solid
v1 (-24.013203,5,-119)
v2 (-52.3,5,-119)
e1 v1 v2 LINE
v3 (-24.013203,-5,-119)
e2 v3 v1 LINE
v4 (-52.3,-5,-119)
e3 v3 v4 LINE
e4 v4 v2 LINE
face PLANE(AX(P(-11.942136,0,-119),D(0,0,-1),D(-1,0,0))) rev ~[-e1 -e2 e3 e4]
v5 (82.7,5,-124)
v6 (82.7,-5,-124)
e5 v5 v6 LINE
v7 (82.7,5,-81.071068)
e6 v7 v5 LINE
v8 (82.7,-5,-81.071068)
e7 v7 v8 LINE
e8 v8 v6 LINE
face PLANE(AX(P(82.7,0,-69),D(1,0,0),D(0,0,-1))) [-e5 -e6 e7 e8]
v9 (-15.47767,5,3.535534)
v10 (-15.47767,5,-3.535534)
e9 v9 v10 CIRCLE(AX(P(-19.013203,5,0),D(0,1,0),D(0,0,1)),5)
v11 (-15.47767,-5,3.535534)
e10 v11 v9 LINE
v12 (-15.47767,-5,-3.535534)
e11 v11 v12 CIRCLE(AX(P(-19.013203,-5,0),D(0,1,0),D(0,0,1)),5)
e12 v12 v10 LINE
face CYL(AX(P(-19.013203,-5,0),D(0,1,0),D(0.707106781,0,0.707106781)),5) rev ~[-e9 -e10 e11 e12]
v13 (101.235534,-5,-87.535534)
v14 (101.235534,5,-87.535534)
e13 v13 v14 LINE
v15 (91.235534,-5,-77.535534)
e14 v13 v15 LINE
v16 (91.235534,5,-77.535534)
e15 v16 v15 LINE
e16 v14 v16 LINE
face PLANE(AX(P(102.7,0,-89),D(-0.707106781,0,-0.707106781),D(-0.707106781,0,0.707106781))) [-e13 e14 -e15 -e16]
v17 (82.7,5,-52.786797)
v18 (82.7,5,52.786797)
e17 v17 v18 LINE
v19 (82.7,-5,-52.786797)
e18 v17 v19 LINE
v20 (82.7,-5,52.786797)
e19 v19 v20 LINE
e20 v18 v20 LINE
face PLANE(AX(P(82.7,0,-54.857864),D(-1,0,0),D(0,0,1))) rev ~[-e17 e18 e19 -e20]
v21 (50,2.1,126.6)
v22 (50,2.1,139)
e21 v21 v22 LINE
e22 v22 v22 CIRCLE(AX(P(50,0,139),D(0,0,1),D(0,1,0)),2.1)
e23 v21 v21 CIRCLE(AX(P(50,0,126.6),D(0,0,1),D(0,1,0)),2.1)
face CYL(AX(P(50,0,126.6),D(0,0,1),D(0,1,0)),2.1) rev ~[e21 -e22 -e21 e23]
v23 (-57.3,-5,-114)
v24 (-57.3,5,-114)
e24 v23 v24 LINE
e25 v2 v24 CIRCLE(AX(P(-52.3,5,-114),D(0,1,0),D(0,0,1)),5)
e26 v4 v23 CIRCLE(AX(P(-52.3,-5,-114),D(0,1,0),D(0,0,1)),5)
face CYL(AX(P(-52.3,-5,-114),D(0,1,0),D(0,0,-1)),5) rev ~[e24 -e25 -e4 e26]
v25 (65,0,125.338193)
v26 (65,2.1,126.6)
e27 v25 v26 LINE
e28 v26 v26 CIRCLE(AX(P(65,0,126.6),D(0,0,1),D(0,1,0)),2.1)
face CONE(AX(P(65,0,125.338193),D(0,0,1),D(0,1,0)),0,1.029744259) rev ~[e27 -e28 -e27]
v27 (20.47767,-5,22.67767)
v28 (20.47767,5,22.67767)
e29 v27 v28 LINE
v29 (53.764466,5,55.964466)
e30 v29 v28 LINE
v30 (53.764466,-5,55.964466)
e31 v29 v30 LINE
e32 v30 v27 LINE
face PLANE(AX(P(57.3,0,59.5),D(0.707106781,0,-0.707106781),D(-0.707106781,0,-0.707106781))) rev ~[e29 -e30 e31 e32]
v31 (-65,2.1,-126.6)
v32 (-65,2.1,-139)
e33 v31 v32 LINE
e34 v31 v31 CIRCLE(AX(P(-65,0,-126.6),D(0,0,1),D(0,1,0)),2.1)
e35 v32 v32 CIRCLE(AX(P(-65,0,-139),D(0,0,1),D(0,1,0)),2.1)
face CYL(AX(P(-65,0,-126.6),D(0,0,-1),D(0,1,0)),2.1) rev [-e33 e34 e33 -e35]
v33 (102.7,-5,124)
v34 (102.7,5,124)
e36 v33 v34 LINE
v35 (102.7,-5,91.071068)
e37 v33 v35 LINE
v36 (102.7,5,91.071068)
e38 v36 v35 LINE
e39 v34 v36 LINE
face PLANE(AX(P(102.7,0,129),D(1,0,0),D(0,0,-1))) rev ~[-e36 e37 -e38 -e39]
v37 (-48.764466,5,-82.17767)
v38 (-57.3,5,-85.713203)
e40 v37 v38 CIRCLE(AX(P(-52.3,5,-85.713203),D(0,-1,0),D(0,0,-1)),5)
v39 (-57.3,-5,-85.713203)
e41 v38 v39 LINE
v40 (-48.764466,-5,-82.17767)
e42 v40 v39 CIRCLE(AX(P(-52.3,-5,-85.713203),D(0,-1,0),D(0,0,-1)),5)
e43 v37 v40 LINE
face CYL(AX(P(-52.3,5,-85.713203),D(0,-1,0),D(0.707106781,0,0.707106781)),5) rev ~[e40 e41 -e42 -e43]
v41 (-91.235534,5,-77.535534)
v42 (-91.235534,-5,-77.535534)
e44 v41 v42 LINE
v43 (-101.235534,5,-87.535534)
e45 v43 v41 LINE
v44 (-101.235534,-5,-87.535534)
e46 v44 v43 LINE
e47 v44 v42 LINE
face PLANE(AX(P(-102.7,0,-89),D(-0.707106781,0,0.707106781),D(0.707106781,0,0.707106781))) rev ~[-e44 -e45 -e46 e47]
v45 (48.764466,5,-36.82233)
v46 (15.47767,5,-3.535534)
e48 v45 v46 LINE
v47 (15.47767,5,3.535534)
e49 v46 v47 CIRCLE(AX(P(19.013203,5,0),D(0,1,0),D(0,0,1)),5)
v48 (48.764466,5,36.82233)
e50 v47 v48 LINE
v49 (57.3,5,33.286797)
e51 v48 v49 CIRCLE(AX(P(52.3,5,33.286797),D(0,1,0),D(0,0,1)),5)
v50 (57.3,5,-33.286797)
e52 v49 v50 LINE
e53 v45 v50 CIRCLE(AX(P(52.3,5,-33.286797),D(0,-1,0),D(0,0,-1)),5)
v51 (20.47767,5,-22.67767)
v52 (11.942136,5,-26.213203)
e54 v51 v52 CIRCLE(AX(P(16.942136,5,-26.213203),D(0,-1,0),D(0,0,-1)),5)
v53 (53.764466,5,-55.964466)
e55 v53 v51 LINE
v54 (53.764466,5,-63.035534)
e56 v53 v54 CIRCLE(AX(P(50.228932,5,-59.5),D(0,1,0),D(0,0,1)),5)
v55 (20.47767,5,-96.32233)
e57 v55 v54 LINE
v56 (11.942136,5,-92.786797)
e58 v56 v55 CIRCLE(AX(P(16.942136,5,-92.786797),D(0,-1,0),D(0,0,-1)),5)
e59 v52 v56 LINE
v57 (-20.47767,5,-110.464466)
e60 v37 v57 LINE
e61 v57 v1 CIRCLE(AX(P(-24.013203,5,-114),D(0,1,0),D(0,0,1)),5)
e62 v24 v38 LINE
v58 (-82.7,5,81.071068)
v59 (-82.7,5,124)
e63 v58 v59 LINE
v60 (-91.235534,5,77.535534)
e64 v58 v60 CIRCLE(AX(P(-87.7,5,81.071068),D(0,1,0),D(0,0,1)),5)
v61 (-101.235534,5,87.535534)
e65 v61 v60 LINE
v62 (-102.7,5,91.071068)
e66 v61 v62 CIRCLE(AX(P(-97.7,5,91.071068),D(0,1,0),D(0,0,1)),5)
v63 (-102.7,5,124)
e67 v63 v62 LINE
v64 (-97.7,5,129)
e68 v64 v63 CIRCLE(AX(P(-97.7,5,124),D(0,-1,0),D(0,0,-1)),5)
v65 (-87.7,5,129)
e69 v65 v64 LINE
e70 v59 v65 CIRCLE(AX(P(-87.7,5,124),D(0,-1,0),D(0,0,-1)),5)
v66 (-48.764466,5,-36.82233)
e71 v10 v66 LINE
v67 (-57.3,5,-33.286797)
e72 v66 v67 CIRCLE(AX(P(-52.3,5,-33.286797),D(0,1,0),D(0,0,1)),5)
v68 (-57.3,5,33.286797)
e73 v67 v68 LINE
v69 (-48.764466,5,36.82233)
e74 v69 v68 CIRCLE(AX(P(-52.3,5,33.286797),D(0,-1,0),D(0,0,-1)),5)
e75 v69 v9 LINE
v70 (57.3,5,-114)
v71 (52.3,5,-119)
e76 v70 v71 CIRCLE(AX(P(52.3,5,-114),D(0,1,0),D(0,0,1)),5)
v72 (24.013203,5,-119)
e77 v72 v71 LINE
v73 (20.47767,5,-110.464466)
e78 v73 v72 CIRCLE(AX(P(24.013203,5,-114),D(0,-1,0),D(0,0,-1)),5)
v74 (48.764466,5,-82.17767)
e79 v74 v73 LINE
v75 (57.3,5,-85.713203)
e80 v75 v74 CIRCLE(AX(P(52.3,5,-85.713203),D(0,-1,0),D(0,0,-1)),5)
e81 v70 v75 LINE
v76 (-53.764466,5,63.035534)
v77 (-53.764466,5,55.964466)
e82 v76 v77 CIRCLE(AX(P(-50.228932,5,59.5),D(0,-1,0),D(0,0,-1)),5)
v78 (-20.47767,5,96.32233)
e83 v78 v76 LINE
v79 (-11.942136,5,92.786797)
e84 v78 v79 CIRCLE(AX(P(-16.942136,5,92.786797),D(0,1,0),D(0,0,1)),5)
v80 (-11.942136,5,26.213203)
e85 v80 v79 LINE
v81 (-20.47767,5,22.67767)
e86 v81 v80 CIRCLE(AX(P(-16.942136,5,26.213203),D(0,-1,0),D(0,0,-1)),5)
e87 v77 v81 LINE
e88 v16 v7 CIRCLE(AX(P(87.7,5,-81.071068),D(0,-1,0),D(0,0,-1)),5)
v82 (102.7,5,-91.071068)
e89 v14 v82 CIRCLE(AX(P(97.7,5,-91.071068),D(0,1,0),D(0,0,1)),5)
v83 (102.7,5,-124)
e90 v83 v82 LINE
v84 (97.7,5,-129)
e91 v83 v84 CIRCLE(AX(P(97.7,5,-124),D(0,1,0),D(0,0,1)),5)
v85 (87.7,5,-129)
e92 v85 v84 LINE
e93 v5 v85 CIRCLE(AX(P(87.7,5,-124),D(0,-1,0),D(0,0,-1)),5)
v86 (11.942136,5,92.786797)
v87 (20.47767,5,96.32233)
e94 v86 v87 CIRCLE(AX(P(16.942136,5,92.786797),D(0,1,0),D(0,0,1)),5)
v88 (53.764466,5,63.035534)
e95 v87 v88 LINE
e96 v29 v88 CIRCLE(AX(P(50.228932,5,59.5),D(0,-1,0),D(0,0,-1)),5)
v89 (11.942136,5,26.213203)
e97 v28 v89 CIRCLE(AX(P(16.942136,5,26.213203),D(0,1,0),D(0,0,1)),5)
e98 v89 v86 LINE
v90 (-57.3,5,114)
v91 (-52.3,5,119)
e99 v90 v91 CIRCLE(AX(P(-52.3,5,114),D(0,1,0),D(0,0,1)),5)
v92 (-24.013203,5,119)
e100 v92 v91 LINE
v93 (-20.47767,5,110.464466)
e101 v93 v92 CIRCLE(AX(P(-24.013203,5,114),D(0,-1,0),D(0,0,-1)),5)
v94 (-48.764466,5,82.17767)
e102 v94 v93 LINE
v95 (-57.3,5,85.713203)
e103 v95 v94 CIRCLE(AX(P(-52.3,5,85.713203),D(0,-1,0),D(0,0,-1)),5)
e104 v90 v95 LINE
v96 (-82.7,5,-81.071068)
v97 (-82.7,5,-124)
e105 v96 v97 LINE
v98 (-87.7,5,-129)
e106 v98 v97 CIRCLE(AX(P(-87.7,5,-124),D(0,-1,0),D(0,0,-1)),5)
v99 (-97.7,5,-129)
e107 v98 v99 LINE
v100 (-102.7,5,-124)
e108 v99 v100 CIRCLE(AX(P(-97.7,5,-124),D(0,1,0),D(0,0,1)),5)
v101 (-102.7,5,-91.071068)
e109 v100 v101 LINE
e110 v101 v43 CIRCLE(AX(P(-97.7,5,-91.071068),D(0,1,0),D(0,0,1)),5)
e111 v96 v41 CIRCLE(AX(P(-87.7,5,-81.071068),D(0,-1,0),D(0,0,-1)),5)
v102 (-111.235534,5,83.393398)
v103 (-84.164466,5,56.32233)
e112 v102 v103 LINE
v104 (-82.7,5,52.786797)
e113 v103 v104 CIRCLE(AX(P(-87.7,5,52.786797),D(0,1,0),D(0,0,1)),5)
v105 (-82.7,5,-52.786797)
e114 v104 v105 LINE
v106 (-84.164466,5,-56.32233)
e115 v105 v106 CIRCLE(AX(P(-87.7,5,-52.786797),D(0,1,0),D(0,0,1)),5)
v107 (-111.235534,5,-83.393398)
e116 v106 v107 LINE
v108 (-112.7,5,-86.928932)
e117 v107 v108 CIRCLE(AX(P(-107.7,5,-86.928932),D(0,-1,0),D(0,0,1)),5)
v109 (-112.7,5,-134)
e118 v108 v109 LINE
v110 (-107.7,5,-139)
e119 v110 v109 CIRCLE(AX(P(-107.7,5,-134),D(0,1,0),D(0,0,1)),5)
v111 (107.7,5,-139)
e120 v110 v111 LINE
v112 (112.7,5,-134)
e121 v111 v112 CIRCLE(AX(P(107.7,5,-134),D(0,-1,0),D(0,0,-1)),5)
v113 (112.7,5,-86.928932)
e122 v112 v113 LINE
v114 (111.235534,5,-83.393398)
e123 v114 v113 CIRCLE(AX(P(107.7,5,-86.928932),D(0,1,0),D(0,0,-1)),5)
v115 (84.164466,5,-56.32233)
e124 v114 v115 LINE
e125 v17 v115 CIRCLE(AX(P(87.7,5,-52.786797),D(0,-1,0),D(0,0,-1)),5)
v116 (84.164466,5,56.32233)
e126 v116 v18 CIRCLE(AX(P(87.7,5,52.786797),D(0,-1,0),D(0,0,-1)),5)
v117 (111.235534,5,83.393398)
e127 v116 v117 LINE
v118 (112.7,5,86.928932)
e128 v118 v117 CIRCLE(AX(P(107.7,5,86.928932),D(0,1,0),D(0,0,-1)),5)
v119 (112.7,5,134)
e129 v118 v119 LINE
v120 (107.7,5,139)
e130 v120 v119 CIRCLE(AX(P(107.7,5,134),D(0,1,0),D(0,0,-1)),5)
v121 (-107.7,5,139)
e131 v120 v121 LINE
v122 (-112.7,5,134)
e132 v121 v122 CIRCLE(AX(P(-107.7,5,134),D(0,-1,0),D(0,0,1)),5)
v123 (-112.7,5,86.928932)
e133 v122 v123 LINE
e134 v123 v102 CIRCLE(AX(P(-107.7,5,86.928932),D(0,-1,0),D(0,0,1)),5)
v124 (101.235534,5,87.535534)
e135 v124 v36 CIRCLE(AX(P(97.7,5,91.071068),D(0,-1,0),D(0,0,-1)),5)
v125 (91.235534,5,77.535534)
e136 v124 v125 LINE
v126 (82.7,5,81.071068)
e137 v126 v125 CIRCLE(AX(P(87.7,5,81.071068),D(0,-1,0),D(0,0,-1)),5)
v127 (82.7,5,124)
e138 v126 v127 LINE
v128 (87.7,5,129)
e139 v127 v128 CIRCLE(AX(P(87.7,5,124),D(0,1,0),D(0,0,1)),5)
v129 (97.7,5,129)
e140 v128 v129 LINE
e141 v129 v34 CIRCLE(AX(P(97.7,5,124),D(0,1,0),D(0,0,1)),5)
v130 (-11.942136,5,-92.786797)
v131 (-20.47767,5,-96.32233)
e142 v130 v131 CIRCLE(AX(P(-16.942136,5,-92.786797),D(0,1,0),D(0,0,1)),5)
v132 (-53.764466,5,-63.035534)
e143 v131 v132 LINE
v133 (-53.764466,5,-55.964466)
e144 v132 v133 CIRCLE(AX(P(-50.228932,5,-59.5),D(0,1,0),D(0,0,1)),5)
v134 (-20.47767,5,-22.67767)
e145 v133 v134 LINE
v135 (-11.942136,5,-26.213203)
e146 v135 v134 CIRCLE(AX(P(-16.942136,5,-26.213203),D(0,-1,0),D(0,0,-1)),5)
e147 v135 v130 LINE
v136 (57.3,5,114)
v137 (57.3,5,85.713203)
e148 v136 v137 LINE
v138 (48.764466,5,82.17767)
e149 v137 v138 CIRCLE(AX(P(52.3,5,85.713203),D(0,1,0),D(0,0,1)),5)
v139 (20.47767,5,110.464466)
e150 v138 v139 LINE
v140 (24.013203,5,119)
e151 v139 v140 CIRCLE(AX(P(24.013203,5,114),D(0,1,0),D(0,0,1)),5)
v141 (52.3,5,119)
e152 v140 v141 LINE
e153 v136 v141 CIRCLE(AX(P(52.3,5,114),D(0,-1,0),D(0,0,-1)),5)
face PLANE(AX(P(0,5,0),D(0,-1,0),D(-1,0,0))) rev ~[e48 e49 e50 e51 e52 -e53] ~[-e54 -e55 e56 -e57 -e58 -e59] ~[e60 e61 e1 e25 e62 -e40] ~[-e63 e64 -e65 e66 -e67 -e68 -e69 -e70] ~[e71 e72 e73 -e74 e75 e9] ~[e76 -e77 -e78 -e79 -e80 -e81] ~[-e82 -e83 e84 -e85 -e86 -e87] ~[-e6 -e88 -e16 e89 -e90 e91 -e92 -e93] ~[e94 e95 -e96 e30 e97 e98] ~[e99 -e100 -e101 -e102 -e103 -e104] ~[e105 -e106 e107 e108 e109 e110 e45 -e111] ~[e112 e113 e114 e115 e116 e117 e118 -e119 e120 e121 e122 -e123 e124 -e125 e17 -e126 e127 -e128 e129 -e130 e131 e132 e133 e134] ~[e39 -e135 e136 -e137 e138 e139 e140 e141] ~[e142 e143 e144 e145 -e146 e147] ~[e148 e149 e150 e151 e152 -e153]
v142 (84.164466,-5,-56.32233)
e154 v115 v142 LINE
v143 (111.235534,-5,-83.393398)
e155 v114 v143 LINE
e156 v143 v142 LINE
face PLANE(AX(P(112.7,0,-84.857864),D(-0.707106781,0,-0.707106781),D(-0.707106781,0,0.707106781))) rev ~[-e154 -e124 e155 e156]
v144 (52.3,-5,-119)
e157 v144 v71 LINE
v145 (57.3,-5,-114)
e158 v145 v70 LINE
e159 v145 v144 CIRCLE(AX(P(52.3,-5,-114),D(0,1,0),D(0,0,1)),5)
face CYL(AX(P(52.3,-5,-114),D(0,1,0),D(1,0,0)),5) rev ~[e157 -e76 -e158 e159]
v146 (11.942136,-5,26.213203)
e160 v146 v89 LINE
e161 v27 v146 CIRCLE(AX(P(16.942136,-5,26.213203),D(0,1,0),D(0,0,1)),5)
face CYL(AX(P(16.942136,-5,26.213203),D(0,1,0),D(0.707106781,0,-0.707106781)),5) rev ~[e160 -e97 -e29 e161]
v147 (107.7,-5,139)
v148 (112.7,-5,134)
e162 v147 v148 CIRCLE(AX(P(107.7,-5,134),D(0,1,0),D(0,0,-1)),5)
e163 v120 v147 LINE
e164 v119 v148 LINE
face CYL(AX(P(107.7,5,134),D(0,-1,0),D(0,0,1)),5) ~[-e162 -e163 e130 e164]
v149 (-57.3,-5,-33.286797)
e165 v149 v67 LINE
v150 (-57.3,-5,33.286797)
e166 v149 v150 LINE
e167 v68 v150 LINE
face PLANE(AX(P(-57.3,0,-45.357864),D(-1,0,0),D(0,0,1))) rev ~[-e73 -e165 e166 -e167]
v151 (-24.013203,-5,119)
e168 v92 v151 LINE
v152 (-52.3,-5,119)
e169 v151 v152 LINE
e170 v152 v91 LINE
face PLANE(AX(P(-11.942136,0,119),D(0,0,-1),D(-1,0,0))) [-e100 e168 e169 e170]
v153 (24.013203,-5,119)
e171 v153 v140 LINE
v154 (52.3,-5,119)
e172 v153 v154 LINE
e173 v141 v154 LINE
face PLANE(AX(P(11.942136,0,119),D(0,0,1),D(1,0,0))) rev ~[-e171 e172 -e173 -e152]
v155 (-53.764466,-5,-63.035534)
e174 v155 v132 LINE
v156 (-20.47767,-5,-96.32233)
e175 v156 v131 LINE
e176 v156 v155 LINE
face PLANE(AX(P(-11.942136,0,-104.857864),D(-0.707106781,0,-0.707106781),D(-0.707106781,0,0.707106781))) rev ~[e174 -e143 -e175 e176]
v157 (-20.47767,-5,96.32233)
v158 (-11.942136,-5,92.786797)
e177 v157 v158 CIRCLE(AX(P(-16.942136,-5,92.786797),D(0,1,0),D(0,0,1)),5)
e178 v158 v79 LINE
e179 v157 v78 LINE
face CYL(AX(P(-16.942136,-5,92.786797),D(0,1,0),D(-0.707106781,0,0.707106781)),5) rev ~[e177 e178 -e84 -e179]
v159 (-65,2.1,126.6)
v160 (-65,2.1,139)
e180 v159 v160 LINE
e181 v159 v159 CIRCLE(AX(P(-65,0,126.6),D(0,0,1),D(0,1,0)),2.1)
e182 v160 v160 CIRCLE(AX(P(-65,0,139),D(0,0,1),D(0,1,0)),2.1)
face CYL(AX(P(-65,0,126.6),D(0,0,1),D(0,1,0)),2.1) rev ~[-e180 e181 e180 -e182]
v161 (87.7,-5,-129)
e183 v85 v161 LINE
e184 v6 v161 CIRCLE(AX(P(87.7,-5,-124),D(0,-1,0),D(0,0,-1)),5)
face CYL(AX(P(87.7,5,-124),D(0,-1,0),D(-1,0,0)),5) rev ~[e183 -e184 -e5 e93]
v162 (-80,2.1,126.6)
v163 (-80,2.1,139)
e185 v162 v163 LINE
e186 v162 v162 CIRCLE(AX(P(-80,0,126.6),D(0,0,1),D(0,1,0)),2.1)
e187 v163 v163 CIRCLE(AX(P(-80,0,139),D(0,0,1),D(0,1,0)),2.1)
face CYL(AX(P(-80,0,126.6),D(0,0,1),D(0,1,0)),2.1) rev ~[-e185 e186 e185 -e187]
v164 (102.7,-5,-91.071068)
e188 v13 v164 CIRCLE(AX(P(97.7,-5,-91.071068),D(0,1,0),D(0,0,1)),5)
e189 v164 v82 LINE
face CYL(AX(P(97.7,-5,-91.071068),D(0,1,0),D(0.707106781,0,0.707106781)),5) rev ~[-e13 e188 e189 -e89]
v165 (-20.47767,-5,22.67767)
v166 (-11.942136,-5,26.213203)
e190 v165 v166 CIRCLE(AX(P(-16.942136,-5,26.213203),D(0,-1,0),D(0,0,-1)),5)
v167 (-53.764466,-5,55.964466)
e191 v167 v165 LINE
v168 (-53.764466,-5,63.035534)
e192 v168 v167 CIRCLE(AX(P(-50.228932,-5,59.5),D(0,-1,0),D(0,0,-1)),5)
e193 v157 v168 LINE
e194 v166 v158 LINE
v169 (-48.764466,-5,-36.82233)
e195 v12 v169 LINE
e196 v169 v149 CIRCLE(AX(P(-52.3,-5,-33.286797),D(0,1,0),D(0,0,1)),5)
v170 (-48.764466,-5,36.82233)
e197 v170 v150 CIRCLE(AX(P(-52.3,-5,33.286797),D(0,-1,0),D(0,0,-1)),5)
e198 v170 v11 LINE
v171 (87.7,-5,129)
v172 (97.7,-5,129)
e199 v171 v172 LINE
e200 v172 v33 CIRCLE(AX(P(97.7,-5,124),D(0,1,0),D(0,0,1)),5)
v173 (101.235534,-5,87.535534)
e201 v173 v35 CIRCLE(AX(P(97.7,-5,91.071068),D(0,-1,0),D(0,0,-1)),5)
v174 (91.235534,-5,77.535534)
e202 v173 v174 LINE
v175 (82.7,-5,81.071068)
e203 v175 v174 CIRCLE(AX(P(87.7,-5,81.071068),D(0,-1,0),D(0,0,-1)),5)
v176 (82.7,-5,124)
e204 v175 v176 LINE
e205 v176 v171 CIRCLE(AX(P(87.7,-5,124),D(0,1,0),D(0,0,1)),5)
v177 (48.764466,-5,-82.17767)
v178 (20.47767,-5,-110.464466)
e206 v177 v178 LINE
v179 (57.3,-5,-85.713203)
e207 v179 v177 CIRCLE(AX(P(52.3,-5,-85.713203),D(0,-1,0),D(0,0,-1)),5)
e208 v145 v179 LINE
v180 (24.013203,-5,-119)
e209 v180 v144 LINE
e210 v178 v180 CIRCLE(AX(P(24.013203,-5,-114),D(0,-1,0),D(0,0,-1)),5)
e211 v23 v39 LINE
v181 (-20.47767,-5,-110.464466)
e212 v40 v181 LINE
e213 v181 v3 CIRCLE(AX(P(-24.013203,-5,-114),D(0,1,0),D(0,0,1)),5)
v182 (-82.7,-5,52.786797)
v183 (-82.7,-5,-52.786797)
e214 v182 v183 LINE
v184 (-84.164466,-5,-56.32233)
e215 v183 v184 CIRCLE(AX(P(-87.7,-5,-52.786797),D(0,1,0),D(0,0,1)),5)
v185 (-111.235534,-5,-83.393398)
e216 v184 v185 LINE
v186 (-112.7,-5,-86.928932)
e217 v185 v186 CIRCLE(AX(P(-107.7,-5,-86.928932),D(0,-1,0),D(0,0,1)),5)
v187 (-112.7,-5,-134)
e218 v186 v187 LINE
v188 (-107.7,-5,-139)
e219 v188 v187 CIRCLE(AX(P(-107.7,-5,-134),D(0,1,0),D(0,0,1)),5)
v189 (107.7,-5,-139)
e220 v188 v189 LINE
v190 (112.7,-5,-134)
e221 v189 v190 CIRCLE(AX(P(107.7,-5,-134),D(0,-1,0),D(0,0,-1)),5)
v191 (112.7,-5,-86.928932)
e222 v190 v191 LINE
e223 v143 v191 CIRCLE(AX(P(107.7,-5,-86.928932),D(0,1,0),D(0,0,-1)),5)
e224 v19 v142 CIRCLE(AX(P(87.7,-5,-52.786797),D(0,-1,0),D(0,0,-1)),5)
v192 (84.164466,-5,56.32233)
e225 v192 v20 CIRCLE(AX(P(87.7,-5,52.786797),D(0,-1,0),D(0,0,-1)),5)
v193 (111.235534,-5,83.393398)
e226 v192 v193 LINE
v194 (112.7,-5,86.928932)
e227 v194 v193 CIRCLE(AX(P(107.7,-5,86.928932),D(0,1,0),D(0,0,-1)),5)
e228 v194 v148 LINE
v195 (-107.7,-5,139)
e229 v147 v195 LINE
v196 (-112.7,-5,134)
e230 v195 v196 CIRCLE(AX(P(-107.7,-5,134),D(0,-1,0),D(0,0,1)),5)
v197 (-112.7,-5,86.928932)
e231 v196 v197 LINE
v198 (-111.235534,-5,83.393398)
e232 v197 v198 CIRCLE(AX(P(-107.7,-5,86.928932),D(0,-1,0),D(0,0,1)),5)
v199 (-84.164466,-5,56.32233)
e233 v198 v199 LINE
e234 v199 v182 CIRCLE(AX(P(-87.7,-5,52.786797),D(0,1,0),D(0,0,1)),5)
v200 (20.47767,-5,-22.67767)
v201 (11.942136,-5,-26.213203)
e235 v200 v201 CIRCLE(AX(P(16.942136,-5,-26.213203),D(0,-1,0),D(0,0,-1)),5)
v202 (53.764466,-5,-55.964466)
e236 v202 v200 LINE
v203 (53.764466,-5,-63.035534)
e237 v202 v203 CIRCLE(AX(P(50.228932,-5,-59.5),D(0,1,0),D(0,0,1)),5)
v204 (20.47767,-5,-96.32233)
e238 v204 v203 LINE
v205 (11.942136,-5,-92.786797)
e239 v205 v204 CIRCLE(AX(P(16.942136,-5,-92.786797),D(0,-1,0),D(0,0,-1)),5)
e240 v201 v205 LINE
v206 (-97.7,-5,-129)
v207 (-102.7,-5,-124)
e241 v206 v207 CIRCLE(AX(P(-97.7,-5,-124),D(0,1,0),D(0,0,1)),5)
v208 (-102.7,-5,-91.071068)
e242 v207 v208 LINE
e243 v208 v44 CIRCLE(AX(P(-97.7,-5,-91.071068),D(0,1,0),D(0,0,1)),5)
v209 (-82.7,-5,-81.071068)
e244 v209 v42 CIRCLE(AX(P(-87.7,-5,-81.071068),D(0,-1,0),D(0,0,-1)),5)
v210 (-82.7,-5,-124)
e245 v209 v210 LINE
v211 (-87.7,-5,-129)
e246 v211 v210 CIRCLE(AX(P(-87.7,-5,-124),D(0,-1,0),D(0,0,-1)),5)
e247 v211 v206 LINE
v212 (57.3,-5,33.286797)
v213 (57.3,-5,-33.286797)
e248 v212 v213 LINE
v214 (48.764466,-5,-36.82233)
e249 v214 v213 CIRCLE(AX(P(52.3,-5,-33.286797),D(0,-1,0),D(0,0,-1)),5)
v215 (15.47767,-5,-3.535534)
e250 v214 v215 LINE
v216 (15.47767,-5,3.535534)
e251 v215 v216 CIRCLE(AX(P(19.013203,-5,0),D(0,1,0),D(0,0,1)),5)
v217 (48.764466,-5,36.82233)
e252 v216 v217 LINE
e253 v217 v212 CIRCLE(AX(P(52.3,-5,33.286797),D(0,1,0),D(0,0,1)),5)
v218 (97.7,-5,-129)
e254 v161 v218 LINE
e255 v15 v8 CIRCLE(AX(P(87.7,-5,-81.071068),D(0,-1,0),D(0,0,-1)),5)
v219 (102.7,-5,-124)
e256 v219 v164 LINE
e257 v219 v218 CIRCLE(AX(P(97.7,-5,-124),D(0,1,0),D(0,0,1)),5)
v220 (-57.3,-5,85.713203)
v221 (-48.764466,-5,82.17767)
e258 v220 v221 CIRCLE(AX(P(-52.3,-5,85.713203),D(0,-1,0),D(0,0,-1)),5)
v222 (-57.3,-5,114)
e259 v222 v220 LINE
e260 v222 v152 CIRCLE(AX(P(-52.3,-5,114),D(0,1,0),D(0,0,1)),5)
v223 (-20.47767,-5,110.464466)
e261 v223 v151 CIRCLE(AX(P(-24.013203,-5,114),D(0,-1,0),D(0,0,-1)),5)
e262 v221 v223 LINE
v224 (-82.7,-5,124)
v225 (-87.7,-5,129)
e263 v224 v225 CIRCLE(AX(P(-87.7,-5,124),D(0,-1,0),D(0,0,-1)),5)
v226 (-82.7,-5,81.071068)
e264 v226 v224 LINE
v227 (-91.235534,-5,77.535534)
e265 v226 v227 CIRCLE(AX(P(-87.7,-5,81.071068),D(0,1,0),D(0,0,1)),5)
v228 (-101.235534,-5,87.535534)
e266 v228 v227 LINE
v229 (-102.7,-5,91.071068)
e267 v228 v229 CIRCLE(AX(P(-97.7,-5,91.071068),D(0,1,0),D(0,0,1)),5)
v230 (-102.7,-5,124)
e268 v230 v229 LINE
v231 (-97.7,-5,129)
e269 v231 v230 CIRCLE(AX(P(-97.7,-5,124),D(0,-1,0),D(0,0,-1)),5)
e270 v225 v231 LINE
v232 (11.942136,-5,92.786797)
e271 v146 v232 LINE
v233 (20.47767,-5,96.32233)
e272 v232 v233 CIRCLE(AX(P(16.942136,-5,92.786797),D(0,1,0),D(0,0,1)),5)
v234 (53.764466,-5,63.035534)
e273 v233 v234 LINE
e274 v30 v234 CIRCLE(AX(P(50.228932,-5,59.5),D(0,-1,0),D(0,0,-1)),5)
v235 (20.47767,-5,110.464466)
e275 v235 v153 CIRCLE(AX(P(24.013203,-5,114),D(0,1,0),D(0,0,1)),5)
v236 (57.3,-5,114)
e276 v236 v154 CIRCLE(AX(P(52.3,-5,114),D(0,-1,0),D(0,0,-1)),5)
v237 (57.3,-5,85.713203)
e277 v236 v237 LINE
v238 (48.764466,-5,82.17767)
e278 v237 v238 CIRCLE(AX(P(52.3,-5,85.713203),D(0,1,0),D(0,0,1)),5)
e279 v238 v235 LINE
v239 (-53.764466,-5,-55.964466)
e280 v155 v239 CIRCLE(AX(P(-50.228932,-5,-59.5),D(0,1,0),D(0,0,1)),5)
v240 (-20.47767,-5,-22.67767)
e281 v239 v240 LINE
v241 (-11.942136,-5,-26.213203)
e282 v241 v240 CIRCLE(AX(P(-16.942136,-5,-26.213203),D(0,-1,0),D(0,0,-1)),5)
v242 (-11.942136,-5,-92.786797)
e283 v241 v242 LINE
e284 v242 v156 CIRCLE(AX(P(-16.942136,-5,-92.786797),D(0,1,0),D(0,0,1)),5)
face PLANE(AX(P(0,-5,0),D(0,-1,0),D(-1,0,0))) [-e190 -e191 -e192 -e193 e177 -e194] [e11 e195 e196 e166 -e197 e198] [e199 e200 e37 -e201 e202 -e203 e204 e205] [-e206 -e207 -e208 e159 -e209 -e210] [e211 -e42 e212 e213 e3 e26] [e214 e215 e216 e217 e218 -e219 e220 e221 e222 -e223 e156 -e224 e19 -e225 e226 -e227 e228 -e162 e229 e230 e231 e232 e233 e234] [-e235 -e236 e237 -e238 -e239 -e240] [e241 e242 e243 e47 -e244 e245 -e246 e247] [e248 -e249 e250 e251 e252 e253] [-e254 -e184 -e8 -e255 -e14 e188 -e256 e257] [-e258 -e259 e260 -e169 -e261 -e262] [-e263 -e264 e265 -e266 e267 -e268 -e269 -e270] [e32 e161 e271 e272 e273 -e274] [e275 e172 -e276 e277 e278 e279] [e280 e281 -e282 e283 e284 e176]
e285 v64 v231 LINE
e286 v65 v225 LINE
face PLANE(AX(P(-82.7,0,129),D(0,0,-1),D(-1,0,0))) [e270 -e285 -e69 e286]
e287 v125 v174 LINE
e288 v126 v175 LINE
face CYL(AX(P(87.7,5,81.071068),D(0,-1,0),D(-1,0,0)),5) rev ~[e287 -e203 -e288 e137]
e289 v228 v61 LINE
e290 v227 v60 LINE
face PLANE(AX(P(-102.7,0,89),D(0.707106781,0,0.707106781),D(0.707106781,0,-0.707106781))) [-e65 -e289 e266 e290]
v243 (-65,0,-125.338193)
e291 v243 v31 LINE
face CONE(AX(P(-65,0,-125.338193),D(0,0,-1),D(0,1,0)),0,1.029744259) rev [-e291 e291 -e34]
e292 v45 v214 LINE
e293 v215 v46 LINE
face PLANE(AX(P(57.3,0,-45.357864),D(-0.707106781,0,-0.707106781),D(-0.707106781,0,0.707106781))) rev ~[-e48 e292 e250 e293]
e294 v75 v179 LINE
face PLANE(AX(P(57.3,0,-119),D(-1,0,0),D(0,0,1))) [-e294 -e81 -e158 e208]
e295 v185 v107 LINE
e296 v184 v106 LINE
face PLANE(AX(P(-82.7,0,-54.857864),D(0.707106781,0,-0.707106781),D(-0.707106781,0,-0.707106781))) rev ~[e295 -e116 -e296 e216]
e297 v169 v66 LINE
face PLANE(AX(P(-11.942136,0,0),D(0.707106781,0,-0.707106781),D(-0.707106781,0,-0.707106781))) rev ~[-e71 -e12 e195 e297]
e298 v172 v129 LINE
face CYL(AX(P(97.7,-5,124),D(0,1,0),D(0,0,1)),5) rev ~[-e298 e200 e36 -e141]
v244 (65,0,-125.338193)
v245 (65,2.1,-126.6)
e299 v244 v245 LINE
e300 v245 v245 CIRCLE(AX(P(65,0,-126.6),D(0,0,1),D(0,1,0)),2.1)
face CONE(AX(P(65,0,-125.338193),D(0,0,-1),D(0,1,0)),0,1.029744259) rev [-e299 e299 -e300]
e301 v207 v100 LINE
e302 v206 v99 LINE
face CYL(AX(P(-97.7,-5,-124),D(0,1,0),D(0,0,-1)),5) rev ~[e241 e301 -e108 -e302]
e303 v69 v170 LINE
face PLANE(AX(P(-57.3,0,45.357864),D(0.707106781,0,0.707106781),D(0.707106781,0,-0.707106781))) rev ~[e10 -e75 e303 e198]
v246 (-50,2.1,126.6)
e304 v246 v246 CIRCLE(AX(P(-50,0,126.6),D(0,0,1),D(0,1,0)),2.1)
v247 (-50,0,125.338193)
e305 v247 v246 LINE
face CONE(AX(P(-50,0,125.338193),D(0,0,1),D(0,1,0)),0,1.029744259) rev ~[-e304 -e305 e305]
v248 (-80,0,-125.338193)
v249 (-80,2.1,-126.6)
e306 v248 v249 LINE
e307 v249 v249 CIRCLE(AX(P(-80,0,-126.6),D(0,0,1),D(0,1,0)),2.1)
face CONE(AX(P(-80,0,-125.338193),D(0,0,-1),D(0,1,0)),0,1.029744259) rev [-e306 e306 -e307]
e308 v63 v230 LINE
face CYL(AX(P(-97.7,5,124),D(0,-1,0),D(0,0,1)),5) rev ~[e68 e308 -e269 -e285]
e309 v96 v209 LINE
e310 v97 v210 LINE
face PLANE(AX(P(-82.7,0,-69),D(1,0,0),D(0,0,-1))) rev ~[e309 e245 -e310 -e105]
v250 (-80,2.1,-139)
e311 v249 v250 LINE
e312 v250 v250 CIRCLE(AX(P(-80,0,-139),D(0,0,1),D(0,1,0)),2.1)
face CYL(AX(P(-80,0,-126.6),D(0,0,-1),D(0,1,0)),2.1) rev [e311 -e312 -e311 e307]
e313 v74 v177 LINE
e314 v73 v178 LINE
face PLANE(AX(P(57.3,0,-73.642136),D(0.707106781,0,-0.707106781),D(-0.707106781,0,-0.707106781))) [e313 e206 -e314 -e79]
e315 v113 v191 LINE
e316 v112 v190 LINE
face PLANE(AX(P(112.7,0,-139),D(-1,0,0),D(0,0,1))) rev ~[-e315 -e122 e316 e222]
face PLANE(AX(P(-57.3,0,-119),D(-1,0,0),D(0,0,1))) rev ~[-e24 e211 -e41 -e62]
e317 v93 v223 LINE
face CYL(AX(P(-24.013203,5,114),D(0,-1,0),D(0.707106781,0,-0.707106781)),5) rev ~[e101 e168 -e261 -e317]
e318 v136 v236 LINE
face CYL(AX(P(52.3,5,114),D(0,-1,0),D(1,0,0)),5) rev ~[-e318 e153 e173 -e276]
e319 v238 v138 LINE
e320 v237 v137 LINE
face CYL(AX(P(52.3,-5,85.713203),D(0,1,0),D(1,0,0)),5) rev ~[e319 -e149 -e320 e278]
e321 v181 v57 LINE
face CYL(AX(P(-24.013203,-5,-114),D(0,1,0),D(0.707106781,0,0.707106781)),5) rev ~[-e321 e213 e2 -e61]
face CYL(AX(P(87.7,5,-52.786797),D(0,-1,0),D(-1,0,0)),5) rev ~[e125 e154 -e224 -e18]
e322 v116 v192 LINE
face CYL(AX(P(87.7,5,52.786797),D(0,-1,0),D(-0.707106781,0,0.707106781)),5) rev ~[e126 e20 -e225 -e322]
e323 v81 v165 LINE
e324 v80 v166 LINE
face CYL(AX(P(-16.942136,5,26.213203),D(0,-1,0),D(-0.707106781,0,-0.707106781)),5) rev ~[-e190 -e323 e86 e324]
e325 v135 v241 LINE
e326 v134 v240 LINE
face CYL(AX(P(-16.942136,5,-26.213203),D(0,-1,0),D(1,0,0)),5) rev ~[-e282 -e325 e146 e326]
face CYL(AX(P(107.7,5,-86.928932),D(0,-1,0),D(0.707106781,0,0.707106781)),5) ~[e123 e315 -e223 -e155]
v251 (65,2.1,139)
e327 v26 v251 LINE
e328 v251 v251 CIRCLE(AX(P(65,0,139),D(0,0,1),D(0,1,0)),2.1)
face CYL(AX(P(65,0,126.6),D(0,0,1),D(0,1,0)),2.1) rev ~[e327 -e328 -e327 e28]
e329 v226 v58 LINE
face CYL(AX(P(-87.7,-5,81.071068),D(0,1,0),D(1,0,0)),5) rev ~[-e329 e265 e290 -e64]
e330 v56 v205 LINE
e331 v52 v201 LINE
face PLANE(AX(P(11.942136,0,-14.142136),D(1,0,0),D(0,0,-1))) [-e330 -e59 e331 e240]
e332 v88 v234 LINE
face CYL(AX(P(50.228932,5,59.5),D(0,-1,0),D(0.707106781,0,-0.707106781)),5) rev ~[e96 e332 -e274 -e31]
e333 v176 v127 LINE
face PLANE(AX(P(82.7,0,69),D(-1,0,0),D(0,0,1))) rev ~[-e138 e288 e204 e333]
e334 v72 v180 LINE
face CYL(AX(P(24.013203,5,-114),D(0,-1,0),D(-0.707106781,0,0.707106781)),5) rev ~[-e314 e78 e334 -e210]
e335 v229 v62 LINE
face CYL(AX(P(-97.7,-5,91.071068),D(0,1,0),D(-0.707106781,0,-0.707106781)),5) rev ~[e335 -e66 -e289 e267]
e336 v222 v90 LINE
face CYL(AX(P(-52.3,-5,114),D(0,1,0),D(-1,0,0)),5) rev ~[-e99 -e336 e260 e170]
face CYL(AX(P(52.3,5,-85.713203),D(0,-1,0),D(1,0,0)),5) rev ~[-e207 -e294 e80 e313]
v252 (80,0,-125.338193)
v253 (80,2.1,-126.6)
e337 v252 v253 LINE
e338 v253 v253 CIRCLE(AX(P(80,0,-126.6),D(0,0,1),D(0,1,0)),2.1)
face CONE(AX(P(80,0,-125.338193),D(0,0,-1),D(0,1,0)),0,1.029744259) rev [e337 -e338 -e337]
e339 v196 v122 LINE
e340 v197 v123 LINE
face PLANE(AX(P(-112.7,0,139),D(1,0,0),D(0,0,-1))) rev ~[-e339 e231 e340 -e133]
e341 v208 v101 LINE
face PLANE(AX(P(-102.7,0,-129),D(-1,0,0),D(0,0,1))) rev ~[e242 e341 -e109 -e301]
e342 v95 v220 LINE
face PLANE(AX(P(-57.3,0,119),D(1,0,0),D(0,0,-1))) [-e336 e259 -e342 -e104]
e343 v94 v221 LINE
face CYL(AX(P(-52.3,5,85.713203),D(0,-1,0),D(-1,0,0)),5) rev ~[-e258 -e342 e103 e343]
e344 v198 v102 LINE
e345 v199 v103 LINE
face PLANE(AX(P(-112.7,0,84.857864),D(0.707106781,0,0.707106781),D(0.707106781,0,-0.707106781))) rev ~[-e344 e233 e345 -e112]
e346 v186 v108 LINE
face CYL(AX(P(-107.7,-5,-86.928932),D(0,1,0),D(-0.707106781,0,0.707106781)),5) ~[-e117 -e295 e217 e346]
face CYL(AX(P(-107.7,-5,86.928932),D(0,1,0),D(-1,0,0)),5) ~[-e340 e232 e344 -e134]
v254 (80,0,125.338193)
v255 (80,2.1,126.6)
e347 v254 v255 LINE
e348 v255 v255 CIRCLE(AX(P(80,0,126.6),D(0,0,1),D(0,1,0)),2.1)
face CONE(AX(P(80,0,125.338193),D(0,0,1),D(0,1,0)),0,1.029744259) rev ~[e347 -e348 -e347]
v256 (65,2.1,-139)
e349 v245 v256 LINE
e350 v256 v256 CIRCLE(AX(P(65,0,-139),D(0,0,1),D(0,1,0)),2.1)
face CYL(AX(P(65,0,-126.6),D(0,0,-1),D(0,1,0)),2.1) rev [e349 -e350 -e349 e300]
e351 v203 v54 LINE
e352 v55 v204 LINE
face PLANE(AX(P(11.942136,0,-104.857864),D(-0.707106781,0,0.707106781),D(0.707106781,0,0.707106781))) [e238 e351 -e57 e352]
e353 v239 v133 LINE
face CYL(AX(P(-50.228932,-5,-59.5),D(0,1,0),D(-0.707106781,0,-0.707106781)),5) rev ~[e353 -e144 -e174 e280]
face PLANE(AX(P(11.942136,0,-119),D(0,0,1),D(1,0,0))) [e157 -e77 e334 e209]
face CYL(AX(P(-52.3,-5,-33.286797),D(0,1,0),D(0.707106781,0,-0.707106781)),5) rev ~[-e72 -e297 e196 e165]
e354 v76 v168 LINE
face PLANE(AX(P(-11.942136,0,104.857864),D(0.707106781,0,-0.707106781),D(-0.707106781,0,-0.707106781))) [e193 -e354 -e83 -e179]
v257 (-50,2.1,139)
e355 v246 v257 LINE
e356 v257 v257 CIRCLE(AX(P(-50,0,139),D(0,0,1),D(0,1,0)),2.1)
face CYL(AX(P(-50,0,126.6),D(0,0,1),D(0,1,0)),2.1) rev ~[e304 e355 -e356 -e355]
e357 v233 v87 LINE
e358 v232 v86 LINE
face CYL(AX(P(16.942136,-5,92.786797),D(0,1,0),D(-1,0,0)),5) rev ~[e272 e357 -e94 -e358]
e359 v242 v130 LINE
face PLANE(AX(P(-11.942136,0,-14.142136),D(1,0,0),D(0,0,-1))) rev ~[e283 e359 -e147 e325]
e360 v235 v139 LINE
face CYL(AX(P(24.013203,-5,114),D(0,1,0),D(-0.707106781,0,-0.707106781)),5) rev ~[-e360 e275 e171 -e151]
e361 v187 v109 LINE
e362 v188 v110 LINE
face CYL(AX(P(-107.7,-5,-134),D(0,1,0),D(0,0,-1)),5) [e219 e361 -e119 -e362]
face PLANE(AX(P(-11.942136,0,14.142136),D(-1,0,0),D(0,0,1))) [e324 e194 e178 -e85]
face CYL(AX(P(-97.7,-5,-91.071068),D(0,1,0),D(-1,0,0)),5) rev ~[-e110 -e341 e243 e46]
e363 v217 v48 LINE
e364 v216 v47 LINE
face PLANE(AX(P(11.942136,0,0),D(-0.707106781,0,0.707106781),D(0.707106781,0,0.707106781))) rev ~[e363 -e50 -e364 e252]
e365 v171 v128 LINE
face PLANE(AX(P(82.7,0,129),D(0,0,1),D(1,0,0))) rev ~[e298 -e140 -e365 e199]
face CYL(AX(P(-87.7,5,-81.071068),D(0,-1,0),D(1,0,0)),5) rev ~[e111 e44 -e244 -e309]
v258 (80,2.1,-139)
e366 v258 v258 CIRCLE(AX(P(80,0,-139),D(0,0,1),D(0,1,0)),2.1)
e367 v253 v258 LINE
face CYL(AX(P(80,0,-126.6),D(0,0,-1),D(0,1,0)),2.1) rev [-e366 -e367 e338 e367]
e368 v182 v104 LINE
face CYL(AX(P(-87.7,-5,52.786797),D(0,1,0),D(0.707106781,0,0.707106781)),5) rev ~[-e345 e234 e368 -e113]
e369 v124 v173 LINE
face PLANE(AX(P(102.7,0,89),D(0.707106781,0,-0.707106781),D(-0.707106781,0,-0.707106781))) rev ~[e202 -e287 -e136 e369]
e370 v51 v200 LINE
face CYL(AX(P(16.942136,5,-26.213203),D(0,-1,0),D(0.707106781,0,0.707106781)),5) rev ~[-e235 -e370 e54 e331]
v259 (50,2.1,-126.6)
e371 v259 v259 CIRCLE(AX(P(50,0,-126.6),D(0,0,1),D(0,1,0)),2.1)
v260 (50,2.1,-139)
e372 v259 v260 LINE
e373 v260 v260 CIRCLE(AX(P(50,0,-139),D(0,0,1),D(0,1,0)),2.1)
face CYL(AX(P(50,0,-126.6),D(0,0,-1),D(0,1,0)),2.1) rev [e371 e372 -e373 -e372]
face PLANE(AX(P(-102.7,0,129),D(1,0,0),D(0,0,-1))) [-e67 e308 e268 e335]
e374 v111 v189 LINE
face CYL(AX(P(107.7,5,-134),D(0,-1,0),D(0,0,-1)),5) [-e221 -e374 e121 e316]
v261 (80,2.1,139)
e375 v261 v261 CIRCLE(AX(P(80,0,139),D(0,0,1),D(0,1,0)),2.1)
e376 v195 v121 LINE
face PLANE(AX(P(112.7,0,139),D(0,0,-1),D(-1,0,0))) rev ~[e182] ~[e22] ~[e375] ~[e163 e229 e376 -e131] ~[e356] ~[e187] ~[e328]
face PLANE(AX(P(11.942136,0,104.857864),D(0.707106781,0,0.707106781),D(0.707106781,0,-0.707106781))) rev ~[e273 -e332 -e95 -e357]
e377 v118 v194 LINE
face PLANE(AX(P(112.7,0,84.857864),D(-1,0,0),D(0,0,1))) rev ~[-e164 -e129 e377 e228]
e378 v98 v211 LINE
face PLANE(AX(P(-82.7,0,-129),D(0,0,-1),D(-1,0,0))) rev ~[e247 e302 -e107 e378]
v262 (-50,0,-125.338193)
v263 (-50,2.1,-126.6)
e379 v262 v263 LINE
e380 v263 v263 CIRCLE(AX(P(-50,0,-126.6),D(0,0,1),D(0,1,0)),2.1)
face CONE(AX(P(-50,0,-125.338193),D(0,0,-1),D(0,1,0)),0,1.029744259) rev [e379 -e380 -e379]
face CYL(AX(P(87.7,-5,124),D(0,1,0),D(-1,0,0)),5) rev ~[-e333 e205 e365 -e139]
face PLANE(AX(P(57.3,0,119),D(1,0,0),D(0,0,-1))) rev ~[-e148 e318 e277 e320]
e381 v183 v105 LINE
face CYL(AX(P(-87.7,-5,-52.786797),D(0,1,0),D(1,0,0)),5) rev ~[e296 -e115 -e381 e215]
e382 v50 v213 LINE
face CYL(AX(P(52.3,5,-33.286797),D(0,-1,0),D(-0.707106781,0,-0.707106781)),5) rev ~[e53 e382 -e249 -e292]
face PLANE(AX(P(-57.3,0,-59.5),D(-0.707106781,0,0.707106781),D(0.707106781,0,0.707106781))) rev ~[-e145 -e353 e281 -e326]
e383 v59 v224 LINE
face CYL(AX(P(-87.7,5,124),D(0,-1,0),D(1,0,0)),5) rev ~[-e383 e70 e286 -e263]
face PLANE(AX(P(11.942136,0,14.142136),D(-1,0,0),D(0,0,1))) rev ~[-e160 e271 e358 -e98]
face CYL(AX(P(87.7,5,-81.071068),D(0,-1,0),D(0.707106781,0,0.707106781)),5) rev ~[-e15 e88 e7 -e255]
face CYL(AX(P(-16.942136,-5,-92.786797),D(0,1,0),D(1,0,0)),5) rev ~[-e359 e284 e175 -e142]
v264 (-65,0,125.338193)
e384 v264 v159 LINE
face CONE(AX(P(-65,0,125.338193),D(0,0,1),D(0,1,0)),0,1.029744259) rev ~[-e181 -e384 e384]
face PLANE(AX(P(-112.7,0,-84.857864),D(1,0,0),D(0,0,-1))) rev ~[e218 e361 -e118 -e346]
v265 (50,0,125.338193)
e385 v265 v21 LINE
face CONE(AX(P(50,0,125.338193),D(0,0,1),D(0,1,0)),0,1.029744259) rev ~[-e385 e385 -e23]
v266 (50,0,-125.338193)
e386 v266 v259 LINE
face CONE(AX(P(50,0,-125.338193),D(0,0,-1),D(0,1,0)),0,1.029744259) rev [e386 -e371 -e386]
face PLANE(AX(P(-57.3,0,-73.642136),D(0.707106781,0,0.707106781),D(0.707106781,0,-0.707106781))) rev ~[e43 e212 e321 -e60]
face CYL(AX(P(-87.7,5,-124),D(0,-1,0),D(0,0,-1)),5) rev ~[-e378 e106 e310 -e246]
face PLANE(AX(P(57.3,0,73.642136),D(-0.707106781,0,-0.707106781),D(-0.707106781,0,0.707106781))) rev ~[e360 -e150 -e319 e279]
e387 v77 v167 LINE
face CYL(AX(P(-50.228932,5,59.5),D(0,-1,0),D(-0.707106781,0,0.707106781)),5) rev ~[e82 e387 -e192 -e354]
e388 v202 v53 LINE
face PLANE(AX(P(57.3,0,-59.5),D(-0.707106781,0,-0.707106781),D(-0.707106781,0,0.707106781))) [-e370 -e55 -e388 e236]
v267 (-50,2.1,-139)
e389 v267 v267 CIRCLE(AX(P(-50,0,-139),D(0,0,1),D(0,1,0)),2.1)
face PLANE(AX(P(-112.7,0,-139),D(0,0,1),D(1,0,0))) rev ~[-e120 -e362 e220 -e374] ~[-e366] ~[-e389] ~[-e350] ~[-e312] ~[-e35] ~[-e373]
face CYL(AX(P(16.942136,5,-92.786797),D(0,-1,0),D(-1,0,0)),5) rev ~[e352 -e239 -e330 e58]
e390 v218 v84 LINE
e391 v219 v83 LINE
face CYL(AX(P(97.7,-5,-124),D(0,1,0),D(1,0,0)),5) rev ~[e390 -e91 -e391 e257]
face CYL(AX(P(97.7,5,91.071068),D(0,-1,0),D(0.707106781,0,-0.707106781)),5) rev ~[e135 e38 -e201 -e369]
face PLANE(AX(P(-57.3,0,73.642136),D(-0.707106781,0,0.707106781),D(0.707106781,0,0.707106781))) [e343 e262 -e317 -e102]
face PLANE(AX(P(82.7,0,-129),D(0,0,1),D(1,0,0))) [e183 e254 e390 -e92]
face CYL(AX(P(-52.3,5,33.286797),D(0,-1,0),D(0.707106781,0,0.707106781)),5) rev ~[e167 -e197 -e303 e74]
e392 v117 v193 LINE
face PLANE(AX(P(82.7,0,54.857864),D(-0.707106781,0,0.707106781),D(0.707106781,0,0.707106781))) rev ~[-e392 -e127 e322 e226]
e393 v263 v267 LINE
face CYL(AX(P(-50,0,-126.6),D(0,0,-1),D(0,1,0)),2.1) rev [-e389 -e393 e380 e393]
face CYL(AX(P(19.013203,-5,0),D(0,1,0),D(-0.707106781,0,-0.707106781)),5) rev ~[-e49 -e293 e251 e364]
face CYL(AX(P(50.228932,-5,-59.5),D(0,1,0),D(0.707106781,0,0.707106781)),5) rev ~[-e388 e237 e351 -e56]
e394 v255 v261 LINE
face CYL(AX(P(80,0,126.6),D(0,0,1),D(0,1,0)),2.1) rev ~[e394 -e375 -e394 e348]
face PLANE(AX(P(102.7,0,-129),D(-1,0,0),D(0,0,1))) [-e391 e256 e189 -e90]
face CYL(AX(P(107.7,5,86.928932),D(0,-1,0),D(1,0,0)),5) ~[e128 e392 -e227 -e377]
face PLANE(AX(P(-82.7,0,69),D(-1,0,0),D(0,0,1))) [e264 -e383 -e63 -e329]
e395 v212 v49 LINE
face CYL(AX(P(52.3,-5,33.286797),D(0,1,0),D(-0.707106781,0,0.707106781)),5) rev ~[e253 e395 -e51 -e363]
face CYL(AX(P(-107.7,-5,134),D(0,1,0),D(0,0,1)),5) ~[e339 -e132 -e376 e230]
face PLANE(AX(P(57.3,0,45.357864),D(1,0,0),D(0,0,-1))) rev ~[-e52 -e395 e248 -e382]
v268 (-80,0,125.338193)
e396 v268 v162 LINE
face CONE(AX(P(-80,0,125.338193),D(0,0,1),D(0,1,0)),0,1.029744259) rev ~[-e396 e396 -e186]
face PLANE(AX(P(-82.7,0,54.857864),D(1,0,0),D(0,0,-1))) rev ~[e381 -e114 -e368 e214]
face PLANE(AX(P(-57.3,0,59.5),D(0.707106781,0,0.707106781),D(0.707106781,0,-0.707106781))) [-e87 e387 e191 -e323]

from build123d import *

# Parameters (mm, degrees)
BOSS_EXTRUDE1_DEPTH            = 5
FILLET1_R                      = 5
M5X0_8_TAPPED_HOLE1_AT_2_COUNT = 2
M5X0_8_TAPPED_HOLE1_AT_2_PITCH = 15
M5X0_8_TAPPED_HOLE1_AT_3_COUNT = 2
M5X0_8_TAPPED_HOLE1_AT_3_PITCH = 30
M5X0_8_TAPPED_HOLE1_AT_4_COUNT = 2
M5X0_8_TAPPED_HOLE1_AT_4_PITCH = 130
M5X0_8_TAPPED_HOLE1_AT_5_COUNT = 2
M5X0_8_TAPPED_HOLE1_AT_5_PITCH = 145
M5X0_8_TAPPED_HOLE1_AT_6_COUNT = 2
M5X0_8_TAPPED_HOLE1_AT_6_PITCH = 160


with BuildPart() as part:
    # Sketch1 → Boss-Extrude1 (new body, symmetric)
    with BuildSketch(Plane(origin=(0, 0, 0), x_dir=(1, 0, 0), z_dir=(0, 1, 0))):
        Polygon((-112.7, 139), (112.7, 139), (112.7, 84.857864376), (82.7, 54.857864376), (82.7, -54.857864376), (112.7, -84.857864376), (112.7, -139), (-112.7, -139), (-112.7, -84.857864376), (-82.7, -54.857864376), (-82.7, 54.857864376), (-112.7, 84.857864376), align=None)
        Polygon((11.942135624, 104.857864376), (57.3, 59.5), (11.942135624, 14.142135624), align=None, mode=Mode.SUBTRACT)
        Polygon((11.942135624, 119), (57.3, 119), (57.3, 73.642135624), align=None, mode=Mode.SUBTRACT)
        Polygon((82.7, 129), (102.7, 129), (102.7, 89), (82.7, 69), align=None, mode=Mode.SUBTRACT)
        Polygon((57.3, 45.357864376), (11.942135624, 0), (57.3, -45.357864376), align=None, mode=Mode.SUBTRACT)
        Polygon((102.7, -89), (82.7, -69), (82.7, -129), (102.7, -129), align=None, mode=Mode.SUBTRACT)
        Polygon((57.3, -59.5), (11.942135624, -14.142135624), (11.942135624, -104.857864376), align=None, mode=Mode.SUBTRACT)
        Polygon((57.3, -119), (57.3, -73.642135624), (11.942135624, -119), align=None, mode=Mode.SUBTRACT)
        Polygon((-11.942135624, -119), (-57.3, -119), (-57.3, -73.642135624), align=None, mode=Mode.SUBTRACT)
        Polygon((-11.942135624, -14.142135624), (-11.942135624, -104.857864376), (-57.3, -59.5), align=None, mode=Mode.SUBTRACT)
        Polygon((-57.3, -45.357864376), (-11.942135624, 0), (-57.3, 45.357864376), align=None, mode=Mode.SUBTRACT)
        Polygon((-102.7, -129), (-102.7, -89), (-82.7, -69), (-82.7, -129), align=None, mode=Mode.SUBTRACT)
        Polygon((-11.942135624, 14.142135624), (-11.942135624, 104.857864376), (-57.3, 59.5), align=None, mode=Mode.SUBTRACT)
        Polygon((-82.7, 69), (-82.7, 129), (-102.7, 129), (-102.7, 89), align=None, mode=Mode.SUBTRACT)
        Polygon((-57.3, 73.642135624), (-11.942135624, 119), (-57.3, 119), align=None, mode=Mode.SUBTRACT)
    extrude(amount=BOSS_EXTRUDE1_DEPTH, both=True)

    # Fillet1
    fillet1_edges = [part.edges().sort_by_distance(p)[0] for p in [
        (-57.3, 0, -59.5),
        (-11.942135624, 0, -14.142135624),
        (-11.942135624, 0, -104.857864376),
        (-11.942135624, 0, 0),
        (-57.3, 0, -45.357864376),
        (-57.3, 0, 45.357864376),
        (-11.942135624, 0, -119),
        (-57.3, 0, -119),
        (-57.3, 0, -73.642135624),
        (-11.942135624, 0, 119),
        (-57.3, 0, 73.642135624),
        (-57.3, 0, 119),
        (-11.942135624, 0, 14.142135624),
        (-57.3, 0, 59.5),
        (-11.942135624, 0, 104.857864376),
        (-102.7, 0, 129),
        (-82.7, 0, 129),
        (-82.7, 0, 69),
        (-102.7, 0, 89),
        (-102.7, 0, -89),
        (-82.7, 0, -69),
        (-82.7, 0, -129),
        (-102.7, 0, -129),
        (112.7, 0, 84.857864376),
        (112.7, 0, 139),
        (-112.7, 0, 139),
        (-112.7, 0, 84.857864376),
        (-82.7, 0, 54.857864376),
        (-82.7, 0, -54.857864376),
        (-112.7, 0, -84.857864376),
        (-112.7, 0, -139),
        (112.7, 0, -139),
        (112.7, 0, -84.857864376),
        (82.7, 0, -54.857864376),
        (82.7, 0, 54.857864376),
        (11.942135624, 0, -104.857864376),
        (11.942135624, 0, -14.142135624),
        (57.3, 0, -59.5),
        (102.7, 0, 129),
        (102.7, 0, 89),
        (82.7, 0, 69),
        (82.7, 0, 129),
        (11.942135624, 0, -119),
        (57.3, 0, -73.642135624),
        (57.3, 0, -119),
        (11.942135624, 0, 104.857864376),
        (57.3, 0, 59.5),
        (11.942135624, 0, 14.142135624),
        (82.7, 0, -69),
        (102.7, 0, -89),
        (102.7, 0, -129),
        (82.7, 0, -129),
        (57.3, 0, 45.357864376),
        (57.3, 0, -45.357864376),
        (11.942135624, 0, 0),
        (11.942135624, 0, 119),
        (57.3, 0, 119),
        (57.3, 0, 73.642135624),
    ]]
    fillet(fillet1_edges, radius=FILLET1_R)

    # Sketch5 → M5x0.8 Tapped Hole1 (revolve, cut)
    with BuildSketch(Plane(origin=(80, 0, -139), x_dir=(0, 1, 0), z_dir=(1, 0, 0))):
        Polygon((0, 0), (0, 13.6618073), (2.1, 12.4), (2.1, 0), align=None)
    m5x0_8_tapped_hole1 = revolve(axis=Axis((80, 0, -145.35), (0, 0, 1)), mode=Mode.SUBTRACT)

    # M5x0.8 Tapped Hole1 at 2: M5x0.8 Tapped Hole1 ×2
    with Locations(*[(-i * M5X0_8_TAPPED_HOLE1_AT_2_PITCH, 0, 0) for i in range(1, M5X0_8_TAPPED_HOLE1_AT_2_COUNT)]):
        add(m5x0_8_tapped_hole1, mode=Mode.SUBTRACT)

    # M5x0.8 Tapped Hole1 at 3: M5x0.8 Tapped Hole1 ×2
    with Locations(*[(-i * M5X0_8_TAPPED_HOLE1_AT_3_PITCH, 0, 0) for i in range(1, M5X0_8_TAPPED_HOLE1_AT_3_COUNT)]):
        add(m5x0_8_tapped_hole1, mode=Mode.SUBTRACT)

    # M5x0.8 Tapped Hole1 at 4: M5x0.8 Tapped Hole1 ×2
    with Locations(*[(-i * M5X0_8_TAPPED_HOLE1_AT_4_PITCH, 0, 0) for i in range(1, M5X0_8_TAPPED_HOLE1_AT_4_COUNT)]):
        add(m5x0_8_tapped_hole1, mode=Mode.SUBTRACT)

    # M5x0.8 Tapped Hole1 at 5: M5x0.8 Tapped Hole1 ×2
    with Locations(*[(-i * M5X0_8_TAPPED_HOLE1_AT_5_PITCH, 0, 0) for i in range(1, M5X0_8_TAPPED_HOLE1_AT_5_COUNT)]):
        add(m5x0_8_tapped_hole1, mode=Mode.SUBTRACT)

    # M5x0.8 Tapped Hole1 at 6: M5x0.8 Tapped Hole1 ×2
    with Locations(*[(-i * M5X0_8_TAPPED_HOLE1_AT_6_PITCH, 0, 0) for i in range(1, M5X0_8_TAPPED_HOLE1_AT_6_COUNT)]):
        add(m5x0_8_tapped_hole1, mode=Mode.SUBTRACT)

    # Mirror1: M5x0.8 Tapped Hole1 across plane
    add(m5x0_8_tapped_hole1.mirror(Plane.XY), mode=Mode.SUBTRACT)

    # Mirror1 copy 1 sketch → Mirror1 copy 1 (revolve, cut)
    with BuildSketch(Plane(origin=(65, 0, 139), x_dir=(0, 1, 0), z_dir=(1, 0, 0))):
        Polygon((0, 0), (0, -13.6618073), (2.1, -12.4), (2.1, 0), align=None)
    revolve(axis=Axis((65, 0, 145.35), (0, 0, 1)), mode=Mode.SUBTRACT)

    # Mirror1 copy 2 sketch → Mirror1 copy 2 (revolve, cut)
    with BuildSketch(Plane(origin=(50, 0, 139), x_dir=(0, 1, 0), z_dir=(1, 0, 0))):
        Polygon((0, 0), (0, -13.6618073), (2.1, -12.4), (2.1, 0), align=None)
    revolve(axis=Axis((50, 0, 145.35), (0, 0, 1)), mode=Mode.SUBTRACT)

    # Mirror1 copy 3 sketch → Mirror1 copy 3 (revolve, cut)
    with BuildSketch(Plane(origin=(-50, 0, 139), x_dir=(0, 1, 0), z_dir=(1, 0, 0))):
        Polygon((0, 0), (0, -13.6618073), (2.1, -12.4), (2.1, 0), align=None)
    revolve(axis=Axis((-50, 0, 145.35), (0, 0, 1)), mode=Mode.SUBTRACT)

    # Mirror1 copy 4 sketch → Mirror1 copy 4 (revolve, cut)
    with BuildSketch(Plane(origin=(-65, 0, 139), x_dir=(0, 1, 0), z_dir=(1, 0, 0))):
        Polygon((0, 0), (0, -13.6618073), (2.1, -12.4), (2.1, 0), align=None)
    revolve(axis=Axis((-65, 0, 145.35), (0, 0, 1)), mode=Mode.SUBTRACT)

    # Mirror1 copy 5 sketch → Mirror1 copy 5 (revolve, cut)
    with BuildSketch(Plane(origin=(-80, 0, 139), x_dir=(0, 1, 0), z_dir=(1, 0, 0))):
        Polygon((0, 0), (0, -13.6618073), (2.1, -12.4), (2.1, 0), align=None)
    revolve(axis=Axis((-80, 0, 145.35), (0, 0, 1)), mode=Mode.SUBTRACT)


solid = part.part
